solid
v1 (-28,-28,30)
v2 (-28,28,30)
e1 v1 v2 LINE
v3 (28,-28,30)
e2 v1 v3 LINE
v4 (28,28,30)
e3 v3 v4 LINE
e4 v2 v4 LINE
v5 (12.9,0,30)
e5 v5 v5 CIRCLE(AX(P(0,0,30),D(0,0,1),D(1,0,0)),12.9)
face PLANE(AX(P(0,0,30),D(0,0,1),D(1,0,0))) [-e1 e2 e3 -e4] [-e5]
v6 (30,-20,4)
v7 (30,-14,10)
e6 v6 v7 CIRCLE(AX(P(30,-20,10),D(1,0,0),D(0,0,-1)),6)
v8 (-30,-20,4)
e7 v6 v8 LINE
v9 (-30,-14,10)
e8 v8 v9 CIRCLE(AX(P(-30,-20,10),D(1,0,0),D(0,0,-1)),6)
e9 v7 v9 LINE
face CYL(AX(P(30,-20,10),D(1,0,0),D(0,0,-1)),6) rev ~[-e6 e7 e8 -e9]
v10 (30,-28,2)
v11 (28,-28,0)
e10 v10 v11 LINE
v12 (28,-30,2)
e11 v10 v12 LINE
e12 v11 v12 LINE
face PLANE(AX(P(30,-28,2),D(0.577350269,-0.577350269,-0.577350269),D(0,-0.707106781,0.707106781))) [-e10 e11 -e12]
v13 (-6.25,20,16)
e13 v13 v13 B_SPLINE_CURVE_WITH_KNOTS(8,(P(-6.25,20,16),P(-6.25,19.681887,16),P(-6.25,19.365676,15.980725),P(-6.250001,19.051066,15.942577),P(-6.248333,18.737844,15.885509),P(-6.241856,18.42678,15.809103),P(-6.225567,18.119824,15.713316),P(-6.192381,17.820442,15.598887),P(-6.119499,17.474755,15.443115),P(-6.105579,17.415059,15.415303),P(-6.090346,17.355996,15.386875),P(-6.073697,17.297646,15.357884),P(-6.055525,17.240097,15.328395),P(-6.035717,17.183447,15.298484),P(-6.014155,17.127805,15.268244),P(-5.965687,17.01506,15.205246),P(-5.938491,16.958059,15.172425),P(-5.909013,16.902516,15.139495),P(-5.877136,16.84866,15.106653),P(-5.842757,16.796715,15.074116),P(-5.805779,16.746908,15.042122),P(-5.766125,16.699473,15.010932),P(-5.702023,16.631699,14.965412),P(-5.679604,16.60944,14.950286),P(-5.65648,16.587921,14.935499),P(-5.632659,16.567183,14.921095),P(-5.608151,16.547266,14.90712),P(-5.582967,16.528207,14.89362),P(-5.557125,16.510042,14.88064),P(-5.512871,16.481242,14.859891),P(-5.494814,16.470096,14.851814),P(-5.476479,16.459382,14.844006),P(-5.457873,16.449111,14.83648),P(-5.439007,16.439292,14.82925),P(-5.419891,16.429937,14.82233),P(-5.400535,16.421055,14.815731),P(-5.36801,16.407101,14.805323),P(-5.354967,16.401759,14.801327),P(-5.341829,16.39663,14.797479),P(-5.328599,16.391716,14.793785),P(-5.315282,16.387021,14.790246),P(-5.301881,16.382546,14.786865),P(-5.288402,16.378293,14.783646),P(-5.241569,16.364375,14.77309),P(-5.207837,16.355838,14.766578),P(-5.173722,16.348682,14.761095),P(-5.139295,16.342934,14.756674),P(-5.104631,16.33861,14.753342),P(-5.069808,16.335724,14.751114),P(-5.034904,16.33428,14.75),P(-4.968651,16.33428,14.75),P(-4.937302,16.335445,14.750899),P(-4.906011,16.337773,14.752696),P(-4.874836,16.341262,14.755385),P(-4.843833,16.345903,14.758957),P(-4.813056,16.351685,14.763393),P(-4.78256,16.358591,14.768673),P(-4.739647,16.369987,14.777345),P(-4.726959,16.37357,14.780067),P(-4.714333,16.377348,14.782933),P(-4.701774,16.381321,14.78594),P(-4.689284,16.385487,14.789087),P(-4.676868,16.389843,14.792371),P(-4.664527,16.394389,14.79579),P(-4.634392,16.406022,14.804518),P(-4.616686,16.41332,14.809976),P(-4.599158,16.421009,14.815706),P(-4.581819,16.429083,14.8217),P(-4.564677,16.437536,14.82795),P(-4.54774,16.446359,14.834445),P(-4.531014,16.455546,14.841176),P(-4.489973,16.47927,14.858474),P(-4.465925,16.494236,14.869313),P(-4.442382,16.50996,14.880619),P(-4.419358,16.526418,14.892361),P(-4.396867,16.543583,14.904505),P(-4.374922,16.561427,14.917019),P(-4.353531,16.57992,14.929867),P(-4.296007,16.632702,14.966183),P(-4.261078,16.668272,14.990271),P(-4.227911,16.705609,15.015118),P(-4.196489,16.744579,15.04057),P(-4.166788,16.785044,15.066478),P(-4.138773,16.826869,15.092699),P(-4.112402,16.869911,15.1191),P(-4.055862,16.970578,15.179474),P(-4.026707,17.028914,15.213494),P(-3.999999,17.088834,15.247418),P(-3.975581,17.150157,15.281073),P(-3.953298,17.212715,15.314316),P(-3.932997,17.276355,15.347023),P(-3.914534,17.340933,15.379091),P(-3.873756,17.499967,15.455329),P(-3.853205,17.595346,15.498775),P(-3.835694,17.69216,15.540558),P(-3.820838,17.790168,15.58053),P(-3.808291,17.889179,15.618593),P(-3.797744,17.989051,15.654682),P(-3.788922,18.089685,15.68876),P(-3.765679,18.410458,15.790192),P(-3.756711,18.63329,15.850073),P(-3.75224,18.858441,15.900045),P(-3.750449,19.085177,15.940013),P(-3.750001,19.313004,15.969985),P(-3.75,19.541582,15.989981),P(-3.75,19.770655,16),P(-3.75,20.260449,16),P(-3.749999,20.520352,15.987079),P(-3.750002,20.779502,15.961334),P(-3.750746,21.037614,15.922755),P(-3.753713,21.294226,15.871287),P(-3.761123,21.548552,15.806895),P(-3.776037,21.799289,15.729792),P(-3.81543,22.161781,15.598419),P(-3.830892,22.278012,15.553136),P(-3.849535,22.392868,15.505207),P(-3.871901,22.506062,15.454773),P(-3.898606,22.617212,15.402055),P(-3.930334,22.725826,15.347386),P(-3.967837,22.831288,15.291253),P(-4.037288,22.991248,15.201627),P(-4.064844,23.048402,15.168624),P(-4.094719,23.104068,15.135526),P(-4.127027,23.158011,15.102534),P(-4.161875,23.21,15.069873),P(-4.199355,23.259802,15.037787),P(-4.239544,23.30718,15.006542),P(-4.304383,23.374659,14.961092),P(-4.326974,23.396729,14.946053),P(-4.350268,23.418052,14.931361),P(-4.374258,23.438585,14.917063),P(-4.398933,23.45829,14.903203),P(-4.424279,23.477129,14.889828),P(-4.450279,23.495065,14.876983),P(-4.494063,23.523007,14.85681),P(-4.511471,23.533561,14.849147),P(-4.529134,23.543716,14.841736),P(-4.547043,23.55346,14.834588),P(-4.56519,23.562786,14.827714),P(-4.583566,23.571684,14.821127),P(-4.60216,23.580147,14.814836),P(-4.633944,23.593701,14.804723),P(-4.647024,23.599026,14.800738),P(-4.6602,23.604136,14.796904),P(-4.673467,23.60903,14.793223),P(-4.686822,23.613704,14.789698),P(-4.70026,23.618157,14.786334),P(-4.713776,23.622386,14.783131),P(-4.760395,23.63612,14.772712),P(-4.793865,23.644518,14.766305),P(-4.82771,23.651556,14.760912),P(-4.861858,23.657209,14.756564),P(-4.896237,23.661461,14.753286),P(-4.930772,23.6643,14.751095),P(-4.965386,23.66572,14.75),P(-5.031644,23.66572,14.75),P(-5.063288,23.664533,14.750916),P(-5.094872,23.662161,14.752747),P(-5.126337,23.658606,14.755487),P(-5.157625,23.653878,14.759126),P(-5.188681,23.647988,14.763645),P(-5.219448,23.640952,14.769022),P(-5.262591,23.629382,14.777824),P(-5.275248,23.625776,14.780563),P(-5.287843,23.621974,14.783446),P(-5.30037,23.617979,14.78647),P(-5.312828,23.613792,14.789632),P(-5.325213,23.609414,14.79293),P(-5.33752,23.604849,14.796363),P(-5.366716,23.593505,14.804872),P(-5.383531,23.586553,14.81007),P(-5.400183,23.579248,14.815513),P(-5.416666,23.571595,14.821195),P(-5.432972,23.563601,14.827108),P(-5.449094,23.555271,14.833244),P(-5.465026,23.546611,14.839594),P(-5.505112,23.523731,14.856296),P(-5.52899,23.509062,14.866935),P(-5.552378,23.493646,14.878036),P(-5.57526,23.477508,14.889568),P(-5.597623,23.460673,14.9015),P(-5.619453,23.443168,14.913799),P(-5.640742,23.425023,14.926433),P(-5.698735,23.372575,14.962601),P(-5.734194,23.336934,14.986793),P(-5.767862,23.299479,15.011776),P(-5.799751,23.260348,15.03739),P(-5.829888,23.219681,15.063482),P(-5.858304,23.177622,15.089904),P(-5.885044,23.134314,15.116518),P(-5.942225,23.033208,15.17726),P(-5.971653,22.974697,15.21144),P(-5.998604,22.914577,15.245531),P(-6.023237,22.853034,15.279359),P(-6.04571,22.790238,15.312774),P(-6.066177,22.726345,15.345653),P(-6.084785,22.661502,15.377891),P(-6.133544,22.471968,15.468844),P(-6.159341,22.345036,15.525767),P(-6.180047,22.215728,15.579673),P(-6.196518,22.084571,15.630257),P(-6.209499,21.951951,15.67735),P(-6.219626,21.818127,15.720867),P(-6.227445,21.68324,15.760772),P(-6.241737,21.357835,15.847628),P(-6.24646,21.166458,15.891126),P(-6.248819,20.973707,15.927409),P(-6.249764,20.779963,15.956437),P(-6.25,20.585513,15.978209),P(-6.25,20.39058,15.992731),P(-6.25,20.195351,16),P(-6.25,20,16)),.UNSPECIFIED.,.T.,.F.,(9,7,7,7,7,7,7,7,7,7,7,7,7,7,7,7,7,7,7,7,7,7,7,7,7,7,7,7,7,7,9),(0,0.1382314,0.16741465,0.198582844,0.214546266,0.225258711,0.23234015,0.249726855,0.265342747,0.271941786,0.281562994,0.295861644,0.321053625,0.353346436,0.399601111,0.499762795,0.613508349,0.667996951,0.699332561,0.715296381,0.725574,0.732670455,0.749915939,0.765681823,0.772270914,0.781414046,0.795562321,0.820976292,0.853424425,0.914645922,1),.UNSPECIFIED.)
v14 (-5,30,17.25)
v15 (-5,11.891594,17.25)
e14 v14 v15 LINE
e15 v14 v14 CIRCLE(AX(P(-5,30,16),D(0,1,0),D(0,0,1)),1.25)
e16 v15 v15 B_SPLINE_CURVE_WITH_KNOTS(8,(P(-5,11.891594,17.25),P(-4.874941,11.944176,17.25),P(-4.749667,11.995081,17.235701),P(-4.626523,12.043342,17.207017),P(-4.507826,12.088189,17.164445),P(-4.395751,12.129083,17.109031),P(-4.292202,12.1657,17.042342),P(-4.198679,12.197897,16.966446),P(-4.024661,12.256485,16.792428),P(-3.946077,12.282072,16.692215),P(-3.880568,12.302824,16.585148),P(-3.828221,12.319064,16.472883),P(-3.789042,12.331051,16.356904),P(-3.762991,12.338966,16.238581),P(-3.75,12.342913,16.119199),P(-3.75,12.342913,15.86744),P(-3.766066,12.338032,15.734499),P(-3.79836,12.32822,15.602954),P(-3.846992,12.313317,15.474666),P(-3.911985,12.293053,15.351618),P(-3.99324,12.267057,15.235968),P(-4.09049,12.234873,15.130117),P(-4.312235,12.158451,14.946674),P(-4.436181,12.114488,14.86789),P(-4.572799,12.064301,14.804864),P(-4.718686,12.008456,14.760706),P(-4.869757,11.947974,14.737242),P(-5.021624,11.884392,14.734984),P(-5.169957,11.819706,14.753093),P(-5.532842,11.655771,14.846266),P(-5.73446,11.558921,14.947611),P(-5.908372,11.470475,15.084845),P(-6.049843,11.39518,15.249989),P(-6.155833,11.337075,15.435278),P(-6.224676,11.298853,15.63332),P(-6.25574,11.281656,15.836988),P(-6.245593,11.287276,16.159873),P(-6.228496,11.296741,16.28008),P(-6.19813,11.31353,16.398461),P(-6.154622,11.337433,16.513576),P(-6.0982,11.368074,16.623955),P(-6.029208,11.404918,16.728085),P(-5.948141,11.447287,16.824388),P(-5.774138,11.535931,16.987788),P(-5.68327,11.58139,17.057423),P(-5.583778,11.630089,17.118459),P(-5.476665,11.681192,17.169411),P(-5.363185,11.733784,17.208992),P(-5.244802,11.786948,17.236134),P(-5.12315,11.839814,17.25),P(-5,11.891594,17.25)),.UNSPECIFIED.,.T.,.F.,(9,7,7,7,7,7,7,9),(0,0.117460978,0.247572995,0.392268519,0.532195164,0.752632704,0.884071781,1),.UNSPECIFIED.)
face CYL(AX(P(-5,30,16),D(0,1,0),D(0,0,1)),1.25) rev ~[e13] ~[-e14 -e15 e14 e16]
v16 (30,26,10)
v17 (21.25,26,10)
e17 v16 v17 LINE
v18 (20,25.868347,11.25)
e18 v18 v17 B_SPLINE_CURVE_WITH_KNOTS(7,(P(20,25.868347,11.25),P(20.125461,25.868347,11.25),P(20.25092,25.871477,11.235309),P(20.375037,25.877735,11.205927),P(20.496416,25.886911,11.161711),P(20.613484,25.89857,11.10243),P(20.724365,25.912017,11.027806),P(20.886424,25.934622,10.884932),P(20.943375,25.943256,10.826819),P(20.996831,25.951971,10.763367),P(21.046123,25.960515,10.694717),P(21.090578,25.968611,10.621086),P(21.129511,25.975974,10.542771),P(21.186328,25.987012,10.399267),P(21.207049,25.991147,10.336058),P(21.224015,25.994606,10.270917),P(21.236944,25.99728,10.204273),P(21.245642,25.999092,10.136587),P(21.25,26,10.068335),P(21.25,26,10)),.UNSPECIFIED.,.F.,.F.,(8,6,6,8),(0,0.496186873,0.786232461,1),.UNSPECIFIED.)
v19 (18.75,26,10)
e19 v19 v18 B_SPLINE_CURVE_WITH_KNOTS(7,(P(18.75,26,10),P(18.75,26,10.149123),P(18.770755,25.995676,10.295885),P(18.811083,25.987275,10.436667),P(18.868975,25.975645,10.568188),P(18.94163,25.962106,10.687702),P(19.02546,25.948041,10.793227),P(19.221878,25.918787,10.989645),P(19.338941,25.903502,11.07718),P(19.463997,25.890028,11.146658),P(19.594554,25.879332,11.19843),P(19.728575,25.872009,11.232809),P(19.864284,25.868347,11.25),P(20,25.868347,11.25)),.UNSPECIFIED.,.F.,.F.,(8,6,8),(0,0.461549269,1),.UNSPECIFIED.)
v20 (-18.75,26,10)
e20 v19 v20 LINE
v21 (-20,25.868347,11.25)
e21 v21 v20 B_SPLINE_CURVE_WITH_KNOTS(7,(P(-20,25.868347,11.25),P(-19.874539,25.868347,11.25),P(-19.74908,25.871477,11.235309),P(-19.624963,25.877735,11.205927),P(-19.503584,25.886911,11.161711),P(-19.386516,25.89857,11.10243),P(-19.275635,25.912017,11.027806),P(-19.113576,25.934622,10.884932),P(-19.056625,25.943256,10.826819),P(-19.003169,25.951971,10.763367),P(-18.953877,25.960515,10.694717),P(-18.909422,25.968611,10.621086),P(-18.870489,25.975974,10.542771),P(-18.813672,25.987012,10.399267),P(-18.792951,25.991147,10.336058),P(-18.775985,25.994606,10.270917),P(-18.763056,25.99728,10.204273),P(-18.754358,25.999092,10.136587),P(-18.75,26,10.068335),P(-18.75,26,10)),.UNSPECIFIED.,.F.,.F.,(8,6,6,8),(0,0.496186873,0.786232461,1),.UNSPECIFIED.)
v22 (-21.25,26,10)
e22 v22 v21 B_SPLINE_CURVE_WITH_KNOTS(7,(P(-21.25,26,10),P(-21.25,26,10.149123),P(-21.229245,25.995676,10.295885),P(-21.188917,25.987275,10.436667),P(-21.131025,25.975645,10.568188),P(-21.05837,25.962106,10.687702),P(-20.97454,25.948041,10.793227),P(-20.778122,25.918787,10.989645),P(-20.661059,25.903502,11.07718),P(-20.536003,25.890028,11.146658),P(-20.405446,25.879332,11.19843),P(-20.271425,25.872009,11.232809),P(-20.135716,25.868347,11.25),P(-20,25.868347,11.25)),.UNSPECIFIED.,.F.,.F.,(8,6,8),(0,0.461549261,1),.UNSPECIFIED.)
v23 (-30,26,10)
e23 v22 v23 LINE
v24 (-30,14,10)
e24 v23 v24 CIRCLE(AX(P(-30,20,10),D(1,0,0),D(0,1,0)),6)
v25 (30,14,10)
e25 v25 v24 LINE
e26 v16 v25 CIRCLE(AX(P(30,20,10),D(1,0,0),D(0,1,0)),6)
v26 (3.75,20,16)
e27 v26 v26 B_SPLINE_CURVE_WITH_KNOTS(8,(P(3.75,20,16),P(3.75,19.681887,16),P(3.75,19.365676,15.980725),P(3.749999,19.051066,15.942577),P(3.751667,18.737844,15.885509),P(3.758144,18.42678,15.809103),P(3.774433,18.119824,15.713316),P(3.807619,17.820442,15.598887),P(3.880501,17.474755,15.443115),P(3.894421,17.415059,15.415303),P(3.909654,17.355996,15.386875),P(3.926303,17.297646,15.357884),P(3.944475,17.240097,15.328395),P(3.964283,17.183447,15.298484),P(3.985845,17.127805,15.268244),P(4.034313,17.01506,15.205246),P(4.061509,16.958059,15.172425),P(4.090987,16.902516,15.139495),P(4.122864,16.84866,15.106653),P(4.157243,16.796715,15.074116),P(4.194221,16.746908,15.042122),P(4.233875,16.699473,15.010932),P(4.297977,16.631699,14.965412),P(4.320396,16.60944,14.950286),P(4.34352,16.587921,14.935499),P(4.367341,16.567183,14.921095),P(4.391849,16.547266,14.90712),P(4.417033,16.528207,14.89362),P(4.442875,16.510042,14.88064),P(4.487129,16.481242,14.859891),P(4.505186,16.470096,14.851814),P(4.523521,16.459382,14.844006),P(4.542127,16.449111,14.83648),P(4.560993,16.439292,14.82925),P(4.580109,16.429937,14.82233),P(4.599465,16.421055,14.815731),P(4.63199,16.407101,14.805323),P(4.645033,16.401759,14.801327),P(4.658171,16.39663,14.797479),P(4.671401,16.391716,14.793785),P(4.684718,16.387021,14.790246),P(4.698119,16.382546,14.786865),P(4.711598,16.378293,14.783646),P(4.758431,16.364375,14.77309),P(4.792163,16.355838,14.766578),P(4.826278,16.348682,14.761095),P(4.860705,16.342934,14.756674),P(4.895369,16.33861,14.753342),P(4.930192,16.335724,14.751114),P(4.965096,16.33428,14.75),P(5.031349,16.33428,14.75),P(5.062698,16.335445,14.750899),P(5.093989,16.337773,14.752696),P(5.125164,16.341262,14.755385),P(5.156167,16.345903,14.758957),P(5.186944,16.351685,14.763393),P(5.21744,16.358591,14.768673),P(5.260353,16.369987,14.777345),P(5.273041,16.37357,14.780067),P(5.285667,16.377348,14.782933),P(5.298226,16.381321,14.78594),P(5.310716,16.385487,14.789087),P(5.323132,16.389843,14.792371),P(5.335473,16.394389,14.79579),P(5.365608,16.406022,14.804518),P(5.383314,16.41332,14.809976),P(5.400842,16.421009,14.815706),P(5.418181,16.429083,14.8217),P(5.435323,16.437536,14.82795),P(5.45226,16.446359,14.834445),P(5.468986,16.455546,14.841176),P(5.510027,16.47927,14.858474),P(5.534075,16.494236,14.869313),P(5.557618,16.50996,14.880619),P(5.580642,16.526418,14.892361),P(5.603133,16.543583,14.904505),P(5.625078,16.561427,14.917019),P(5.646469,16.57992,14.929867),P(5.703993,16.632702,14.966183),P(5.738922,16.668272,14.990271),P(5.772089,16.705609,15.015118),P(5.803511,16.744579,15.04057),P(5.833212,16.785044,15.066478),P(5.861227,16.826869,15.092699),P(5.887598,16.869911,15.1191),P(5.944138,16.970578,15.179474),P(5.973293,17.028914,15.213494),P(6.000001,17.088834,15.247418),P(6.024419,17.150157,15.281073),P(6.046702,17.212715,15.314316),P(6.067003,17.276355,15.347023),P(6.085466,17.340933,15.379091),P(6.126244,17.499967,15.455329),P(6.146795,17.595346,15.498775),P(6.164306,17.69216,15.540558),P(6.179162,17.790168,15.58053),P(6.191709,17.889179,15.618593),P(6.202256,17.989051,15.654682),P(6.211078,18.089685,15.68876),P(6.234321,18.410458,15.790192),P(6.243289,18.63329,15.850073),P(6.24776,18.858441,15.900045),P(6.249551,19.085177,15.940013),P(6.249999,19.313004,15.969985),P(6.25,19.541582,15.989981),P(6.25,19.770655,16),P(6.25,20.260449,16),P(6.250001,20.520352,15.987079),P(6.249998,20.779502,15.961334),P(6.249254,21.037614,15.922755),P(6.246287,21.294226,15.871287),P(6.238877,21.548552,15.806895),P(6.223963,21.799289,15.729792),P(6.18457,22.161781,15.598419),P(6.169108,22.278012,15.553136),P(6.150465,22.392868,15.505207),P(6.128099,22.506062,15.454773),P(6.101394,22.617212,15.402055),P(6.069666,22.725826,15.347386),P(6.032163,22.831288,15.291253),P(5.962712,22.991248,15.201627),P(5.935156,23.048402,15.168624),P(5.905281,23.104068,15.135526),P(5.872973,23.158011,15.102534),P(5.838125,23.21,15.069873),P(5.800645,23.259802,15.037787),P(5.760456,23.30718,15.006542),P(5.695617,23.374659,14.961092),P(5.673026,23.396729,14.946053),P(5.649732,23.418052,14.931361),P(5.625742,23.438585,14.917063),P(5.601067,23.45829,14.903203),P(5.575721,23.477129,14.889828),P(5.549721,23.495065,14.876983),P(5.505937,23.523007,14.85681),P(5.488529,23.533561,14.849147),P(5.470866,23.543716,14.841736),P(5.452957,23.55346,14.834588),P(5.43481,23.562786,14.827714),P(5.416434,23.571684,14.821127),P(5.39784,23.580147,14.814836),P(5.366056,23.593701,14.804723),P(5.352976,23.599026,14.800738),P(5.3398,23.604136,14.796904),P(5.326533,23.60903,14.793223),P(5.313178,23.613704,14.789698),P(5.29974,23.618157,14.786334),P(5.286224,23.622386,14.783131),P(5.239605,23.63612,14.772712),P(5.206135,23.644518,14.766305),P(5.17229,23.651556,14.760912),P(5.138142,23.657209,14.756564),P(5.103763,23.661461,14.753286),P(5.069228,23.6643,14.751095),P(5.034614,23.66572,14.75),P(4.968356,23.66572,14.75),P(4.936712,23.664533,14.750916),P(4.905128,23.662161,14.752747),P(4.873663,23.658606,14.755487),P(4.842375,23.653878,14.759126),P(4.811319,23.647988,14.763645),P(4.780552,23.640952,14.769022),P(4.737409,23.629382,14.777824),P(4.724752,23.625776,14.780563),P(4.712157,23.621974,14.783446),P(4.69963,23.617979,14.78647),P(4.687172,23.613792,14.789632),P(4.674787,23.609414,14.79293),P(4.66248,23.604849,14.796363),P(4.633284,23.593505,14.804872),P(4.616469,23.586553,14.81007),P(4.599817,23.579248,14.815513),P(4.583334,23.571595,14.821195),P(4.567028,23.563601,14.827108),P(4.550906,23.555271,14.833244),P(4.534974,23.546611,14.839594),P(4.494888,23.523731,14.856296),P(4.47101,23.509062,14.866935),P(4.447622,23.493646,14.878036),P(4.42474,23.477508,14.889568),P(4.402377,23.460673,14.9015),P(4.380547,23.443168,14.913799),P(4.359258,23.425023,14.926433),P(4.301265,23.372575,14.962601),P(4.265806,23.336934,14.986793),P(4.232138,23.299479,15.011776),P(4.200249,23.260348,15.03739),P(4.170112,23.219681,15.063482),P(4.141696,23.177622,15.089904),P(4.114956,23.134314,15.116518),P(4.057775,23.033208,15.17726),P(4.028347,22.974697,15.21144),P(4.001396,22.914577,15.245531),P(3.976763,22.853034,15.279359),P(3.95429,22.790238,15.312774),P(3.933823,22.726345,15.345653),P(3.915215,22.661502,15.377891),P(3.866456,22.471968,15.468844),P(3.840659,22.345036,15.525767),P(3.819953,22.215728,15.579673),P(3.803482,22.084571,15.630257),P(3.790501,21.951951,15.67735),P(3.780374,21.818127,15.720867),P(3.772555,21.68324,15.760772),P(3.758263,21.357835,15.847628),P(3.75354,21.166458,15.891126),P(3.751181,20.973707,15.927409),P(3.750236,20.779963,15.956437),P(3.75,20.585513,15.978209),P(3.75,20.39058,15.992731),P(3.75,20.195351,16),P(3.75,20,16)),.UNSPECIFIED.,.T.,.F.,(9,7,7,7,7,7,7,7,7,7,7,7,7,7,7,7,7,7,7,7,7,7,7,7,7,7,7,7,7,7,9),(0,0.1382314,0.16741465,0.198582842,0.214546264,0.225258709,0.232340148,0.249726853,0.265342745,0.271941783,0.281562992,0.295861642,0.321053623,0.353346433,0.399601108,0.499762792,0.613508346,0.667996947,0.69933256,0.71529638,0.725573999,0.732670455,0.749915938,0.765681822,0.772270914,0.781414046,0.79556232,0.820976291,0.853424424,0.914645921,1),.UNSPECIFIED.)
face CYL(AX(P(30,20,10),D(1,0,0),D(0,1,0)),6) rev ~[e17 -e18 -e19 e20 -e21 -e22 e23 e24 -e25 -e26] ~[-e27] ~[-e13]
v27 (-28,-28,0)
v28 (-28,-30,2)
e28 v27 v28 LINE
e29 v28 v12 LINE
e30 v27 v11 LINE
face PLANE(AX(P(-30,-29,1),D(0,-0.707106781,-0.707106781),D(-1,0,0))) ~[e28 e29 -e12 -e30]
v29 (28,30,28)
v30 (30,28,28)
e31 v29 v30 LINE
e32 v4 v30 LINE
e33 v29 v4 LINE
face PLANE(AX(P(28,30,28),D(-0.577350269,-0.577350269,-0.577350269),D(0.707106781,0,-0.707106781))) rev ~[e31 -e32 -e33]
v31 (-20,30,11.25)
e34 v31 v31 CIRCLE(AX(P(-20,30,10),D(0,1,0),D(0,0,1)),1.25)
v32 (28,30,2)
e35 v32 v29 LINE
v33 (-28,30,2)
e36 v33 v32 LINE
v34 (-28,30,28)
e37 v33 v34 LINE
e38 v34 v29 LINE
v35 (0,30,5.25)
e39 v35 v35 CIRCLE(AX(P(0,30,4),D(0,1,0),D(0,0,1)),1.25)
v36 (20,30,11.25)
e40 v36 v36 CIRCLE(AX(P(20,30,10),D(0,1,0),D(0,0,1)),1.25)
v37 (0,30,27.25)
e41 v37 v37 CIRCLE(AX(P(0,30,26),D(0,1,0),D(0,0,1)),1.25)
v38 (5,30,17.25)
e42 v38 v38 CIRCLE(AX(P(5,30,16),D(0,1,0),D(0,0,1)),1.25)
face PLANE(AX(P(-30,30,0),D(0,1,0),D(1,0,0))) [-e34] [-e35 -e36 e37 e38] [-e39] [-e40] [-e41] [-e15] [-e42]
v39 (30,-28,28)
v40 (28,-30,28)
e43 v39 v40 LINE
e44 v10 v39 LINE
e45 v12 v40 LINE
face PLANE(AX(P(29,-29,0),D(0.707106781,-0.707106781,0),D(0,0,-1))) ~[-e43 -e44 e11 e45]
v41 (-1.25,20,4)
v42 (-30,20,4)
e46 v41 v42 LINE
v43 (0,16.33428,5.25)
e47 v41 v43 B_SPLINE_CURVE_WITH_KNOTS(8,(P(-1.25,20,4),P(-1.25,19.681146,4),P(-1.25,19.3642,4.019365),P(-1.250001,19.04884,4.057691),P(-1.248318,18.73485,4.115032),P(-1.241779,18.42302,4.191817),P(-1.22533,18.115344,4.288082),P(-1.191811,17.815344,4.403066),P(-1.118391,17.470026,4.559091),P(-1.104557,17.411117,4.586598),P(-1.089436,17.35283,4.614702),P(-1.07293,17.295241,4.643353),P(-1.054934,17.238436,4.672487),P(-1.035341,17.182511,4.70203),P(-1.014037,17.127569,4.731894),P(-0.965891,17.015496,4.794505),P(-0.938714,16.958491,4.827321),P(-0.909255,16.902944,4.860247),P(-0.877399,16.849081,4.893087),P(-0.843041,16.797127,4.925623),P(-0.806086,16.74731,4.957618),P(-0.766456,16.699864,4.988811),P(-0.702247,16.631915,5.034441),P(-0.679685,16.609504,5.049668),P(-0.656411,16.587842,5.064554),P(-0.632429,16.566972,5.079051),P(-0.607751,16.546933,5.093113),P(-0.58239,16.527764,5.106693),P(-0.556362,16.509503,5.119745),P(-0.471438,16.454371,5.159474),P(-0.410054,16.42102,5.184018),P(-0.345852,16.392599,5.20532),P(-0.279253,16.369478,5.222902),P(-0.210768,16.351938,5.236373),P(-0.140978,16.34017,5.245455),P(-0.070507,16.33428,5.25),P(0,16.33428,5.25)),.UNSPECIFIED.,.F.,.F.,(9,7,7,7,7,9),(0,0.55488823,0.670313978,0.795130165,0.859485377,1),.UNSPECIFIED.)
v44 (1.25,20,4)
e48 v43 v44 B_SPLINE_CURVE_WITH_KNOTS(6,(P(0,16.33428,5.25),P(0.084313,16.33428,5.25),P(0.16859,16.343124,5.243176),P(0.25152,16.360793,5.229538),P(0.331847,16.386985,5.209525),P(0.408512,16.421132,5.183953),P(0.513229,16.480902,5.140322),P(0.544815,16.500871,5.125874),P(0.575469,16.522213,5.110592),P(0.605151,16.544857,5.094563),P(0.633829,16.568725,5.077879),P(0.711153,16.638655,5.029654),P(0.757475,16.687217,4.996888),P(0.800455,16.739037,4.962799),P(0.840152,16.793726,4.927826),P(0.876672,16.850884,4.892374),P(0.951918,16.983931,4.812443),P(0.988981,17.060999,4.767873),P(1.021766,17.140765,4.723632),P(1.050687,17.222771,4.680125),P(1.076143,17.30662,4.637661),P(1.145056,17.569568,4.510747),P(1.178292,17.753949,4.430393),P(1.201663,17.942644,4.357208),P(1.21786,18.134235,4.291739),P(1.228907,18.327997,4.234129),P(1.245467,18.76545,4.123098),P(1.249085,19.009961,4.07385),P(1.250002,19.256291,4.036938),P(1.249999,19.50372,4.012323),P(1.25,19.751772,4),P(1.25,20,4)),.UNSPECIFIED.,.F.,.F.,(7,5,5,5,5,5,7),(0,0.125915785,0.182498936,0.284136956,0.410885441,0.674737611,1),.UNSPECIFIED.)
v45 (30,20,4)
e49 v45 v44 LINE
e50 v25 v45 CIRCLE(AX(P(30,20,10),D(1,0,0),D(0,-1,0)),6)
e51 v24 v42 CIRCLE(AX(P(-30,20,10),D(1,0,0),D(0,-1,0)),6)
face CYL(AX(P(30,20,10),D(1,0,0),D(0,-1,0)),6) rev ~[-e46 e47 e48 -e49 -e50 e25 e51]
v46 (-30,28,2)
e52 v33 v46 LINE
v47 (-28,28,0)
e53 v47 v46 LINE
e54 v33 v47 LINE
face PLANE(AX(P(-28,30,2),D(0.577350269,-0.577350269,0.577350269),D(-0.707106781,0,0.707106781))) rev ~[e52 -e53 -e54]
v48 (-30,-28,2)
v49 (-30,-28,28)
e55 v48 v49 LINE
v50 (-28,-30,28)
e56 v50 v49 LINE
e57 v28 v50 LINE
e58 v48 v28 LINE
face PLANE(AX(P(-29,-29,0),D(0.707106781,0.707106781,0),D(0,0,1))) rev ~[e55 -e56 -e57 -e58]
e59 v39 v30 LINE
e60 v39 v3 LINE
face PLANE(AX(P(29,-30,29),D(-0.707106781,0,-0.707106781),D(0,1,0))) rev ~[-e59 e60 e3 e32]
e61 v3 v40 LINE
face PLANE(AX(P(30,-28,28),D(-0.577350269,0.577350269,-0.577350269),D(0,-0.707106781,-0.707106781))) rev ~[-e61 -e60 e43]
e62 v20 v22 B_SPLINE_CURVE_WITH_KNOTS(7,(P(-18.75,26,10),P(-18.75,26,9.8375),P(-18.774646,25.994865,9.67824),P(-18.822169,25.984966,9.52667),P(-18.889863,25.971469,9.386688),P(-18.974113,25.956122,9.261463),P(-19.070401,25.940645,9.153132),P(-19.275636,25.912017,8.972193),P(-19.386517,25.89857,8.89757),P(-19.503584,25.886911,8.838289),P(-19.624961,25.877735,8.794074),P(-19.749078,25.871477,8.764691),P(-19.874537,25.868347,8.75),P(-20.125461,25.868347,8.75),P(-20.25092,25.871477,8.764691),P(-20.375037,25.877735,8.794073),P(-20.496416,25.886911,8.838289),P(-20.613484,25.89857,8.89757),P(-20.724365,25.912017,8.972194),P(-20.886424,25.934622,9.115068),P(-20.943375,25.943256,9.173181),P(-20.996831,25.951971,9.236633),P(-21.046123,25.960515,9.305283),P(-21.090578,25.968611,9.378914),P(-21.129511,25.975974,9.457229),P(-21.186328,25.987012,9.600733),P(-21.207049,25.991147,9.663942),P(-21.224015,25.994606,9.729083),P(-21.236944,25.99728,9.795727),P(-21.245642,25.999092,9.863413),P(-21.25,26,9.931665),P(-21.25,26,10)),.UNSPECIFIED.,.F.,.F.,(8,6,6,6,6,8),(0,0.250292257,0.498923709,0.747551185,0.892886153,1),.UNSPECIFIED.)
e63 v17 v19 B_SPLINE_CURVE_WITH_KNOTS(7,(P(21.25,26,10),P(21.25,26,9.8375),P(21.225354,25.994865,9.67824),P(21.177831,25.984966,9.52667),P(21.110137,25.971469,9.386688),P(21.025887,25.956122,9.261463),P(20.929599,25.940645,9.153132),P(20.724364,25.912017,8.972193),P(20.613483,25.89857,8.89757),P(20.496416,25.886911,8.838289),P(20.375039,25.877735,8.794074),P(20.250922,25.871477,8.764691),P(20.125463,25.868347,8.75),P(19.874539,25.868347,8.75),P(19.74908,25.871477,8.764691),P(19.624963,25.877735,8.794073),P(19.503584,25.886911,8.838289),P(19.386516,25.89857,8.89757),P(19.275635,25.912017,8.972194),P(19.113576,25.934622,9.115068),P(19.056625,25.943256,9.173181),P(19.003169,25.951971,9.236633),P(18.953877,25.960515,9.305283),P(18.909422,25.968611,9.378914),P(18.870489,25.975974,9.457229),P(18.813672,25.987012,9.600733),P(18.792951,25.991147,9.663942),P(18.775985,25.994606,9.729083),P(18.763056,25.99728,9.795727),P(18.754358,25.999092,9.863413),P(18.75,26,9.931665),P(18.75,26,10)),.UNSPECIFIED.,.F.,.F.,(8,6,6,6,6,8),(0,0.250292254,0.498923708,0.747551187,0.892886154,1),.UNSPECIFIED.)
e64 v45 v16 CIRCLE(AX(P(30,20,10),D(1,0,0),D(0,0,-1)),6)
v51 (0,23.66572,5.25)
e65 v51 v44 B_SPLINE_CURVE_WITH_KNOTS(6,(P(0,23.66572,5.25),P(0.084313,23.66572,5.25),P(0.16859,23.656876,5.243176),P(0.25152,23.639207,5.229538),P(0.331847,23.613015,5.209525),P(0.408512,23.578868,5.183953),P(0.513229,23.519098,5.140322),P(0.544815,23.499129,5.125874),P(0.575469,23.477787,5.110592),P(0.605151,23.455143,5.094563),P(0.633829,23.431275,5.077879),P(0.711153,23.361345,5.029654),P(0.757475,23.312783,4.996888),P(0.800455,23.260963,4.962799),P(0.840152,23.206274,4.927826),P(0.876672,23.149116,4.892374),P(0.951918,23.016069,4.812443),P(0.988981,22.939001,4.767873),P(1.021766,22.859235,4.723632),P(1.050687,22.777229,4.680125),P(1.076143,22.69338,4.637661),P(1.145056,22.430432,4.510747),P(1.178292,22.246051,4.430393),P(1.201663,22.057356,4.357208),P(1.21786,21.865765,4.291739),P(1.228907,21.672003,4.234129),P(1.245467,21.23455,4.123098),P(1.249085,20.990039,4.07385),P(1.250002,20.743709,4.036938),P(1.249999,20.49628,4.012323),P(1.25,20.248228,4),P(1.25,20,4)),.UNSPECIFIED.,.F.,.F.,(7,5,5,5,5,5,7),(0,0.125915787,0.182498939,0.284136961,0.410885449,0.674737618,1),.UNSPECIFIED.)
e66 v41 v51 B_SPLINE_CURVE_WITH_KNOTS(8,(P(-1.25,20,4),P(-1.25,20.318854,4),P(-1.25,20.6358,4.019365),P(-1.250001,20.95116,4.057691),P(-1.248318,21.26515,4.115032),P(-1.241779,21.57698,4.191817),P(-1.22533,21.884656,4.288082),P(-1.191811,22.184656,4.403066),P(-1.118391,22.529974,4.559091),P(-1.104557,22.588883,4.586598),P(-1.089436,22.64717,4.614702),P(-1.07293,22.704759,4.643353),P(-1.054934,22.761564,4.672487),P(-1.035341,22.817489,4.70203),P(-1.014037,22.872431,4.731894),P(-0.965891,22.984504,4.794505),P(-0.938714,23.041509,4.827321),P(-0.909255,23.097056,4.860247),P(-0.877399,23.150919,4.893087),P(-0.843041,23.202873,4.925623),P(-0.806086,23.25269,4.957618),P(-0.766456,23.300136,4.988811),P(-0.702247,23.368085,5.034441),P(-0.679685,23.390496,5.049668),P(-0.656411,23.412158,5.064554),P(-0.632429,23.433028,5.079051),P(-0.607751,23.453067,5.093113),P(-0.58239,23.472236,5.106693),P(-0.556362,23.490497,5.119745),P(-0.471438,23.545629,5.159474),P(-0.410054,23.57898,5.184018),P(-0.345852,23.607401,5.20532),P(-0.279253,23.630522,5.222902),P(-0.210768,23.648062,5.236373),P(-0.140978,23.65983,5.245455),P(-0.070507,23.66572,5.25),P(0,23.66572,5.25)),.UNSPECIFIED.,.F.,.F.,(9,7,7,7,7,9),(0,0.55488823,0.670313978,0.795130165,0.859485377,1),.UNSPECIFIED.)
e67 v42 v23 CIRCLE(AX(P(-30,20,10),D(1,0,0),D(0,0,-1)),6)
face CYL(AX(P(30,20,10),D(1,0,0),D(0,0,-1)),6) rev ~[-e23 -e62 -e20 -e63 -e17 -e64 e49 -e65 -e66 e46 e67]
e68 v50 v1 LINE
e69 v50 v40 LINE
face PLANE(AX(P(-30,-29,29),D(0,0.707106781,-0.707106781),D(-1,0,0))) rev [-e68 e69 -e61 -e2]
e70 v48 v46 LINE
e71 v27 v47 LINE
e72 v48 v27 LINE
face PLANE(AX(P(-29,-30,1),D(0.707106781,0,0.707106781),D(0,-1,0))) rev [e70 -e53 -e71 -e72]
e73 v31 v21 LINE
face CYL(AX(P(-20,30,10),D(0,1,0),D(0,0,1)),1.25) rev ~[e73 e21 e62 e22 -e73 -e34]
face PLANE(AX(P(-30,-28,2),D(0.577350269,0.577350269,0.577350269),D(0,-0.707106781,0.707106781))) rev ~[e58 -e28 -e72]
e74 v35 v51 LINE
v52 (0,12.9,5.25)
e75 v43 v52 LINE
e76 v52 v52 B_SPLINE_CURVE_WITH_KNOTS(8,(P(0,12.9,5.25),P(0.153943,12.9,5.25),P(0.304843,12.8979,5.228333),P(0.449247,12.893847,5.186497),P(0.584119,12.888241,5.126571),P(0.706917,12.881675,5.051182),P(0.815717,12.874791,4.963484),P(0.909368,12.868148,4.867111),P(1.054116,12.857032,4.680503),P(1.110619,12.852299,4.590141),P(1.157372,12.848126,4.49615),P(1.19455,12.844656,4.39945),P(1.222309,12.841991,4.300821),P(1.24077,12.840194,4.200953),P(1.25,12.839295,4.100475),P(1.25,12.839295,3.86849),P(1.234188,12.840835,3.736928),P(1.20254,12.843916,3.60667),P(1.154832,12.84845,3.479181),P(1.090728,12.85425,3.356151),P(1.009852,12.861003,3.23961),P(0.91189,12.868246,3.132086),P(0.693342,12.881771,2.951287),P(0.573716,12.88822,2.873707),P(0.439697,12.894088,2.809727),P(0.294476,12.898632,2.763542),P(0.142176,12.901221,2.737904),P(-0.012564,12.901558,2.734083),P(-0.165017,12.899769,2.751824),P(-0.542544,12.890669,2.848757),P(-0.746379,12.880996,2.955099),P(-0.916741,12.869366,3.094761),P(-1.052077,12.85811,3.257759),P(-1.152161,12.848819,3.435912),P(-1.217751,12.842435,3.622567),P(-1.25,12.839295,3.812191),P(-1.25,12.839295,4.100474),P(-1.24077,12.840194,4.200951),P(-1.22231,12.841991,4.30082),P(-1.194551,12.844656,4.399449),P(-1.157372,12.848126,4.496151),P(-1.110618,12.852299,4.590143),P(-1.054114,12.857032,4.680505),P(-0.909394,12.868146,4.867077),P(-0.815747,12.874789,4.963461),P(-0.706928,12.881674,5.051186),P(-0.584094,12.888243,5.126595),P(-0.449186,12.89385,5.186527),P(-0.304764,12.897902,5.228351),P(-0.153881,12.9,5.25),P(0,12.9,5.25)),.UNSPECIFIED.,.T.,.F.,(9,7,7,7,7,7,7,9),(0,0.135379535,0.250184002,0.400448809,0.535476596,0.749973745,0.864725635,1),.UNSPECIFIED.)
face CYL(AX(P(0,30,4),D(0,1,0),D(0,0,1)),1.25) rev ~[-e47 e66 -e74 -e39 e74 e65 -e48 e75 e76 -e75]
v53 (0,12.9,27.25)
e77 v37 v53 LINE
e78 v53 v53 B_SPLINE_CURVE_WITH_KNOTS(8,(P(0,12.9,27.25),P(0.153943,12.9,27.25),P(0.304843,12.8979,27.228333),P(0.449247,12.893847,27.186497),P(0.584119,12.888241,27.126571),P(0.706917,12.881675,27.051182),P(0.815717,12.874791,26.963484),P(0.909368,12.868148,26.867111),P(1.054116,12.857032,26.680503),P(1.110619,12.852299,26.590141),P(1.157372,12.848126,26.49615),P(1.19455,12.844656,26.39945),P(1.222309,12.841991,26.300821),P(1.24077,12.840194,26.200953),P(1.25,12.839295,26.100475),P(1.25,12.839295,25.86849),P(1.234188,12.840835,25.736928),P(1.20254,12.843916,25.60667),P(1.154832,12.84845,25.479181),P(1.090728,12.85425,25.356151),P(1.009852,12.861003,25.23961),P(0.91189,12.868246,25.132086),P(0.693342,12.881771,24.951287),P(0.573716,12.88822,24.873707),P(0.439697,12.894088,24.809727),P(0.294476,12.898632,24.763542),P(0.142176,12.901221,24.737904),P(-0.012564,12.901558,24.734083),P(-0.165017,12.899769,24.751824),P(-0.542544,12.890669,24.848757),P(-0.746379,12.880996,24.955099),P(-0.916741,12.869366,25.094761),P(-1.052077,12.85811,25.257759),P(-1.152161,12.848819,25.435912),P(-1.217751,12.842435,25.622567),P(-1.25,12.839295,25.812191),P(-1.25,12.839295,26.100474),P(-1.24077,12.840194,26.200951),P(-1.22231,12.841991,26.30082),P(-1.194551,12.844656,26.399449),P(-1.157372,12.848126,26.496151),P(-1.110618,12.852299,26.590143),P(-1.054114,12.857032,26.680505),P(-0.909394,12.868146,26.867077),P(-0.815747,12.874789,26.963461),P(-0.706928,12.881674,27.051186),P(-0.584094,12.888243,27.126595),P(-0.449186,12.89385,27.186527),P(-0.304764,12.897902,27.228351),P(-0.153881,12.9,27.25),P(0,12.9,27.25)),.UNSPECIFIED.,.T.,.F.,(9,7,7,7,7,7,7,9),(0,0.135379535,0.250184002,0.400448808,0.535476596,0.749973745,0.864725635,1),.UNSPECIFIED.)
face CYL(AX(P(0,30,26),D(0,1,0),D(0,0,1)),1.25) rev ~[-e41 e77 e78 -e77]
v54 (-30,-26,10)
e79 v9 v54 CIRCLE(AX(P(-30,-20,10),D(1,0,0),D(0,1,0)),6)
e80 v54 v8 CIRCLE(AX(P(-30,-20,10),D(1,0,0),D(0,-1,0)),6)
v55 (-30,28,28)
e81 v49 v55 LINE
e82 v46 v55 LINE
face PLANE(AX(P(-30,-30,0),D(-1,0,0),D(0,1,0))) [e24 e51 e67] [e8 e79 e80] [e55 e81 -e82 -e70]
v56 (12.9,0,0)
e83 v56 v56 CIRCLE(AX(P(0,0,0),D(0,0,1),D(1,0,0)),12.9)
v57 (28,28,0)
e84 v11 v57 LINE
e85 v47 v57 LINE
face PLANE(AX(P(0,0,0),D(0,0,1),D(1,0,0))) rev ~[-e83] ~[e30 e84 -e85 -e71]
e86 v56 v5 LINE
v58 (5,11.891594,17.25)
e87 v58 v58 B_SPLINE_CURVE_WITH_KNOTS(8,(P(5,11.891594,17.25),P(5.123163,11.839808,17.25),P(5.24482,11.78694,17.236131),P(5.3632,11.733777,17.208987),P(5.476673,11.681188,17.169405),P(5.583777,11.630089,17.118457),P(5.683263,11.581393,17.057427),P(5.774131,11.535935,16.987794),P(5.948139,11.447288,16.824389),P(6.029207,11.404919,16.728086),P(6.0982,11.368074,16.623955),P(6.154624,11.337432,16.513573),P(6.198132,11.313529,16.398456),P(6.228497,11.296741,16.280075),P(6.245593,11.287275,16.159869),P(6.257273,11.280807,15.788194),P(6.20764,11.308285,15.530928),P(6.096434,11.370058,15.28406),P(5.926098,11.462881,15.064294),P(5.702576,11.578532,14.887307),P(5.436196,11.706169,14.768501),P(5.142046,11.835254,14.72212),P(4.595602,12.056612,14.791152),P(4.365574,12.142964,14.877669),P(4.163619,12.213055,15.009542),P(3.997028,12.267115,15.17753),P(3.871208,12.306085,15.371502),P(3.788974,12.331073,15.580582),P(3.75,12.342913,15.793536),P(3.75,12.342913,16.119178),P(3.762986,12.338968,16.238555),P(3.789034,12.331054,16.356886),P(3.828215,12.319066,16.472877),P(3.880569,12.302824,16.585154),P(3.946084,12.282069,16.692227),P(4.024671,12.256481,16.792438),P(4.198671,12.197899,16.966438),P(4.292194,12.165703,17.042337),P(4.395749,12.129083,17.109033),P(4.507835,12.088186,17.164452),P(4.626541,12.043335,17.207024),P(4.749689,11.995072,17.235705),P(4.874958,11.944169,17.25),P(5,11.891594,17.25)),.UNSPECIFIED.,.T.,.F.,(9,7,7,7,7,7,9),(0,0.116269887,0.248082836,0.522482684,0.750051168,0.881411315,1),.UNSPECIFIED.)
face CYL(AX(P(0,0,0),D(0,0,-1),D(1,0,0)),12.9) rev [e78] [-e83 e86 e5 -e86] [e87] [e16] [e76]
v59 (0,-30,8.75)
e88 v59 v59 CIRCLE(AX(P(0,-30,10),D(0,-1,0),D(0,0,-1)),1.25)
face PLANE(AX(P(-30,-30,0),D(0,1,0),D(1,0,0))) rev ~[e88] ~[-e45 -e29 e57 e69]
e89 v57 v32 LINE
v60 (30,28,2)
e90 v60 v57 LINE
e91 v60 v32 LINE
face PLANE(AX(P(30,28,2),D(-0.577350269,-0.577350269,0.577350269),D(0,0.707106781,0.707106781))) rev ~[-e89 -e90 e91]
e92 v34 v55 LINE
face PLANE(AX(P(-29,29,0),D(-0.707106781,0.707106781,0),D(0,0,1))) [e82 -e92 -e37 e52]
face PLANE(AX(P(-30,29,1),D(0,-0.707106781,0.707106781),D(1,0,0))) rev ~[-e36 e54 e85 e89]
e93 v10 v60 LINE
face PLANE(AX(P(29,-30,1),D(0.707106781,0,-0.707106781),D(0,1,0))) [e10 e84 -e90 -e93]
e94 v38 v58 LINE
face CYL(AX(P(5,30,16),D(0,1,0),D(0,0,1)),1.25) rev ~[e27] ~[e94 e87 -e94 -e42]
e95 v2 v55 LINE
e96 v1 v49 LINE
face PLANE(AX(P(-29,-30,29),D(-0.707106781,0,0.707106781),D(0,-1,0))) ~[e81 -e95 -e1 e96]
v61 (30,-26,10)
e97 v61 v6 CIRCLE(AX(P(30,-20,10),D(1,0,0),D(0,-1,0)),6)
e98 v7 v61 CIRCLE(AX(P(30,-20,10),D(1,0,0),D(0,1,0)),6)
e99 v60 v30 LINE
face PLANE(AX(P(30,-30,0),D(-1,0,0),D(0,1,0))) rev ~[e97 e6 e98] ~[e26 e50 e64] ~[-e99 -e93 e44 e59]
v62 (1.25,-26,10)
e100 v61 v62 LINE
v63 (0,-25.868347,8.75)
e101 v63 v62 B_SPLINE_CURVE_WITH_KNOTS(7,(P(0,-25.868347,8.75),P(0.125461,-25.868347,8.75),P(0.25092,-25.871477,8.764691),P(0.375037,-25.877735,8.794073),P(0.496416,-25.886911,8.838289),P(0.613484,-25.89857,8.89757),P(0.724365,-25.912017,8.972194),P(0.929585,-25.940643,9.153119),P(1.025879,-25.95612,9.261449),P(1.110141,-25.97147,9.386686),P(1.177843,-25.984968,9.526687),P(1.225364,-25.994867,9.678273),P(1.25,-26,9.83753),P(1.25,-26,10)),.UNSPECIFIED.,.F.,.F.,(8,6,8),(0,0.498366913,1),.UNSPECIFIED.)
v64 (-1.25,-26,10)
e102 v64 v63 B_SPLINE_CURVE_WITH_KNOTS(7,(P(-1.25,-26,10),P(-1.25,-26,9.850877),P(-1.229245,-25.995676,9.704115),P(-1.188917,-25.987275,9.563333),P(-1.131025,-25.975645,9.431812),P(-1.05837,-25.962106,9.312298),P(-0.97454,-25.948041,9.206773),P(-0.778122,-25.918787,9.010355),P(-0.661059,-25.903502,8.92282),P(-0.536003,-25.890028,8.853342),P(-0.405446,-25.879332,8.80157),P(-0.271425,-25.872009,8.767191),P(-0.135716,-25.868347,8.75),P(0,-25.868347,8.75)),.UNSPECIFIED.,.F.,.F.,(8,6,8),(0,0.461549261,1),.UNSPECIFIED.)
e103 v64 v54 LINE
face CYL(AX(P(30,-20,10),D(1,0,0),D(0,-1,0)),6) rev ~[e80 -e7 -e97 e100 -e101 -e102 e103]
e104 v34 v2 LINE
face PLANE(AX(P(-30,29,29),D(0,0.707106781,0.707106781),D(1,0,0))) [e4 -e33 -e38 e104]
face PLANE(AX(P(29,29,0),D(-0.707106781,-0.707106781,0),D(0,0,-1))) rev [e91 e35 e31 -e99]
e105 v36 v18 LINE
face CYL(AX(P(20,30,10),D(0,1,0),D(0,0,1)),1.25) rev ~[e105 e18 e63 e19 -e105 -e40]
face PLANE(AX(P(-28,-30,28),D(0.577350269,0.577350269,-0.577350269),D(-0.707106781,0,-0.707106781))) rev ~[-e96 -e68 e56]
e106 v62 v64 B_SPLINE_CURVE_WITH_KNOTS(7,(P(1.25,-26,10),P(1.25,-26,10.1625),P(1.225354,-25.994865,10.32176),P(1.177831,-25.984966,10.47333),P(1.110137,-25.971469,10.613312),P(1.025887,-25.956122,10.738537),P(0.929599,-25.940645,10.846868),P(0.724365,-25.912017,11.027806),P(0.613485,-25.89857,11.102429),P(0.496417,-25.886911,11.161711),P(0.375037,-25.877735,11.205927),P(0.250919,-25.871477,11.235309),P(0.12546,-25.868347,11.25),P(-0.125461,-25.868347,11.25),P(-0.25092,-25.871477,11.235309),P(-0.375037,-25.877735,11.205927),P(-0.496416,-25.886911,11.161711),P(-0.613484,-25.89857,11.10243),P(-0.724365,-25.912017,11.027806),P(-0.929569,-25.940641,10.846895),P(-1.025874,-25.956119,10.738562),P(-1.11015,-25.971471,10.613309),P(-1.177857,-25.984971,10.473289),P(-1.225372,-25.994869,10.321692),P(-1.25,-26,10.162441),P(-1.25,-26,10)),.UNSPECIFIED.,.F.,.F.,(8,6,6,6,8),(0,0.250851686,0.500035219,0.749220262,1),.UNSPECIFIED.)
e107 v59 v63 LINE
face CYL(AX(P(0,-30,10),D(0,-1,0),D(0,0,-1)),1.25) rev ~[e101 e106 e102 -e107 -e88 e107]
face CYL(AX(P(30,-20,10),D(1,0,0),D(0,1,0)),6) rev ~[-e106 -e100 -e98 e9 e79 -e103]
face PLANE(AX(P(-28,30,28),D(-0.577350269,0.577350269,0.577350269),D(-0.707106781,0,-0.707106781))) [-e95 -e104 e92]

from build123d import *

# Parameters (mm, degrees)
SKETCH1_W           = 60
SKETCH1_H           = 60
SKETCH1_R           = 12.9
BOSS_EXTRUDE1_DEPTH = 30
CUT_EXTRUDE1_DEPTH  = 70
SKETCH3_R           = 1.25
CUT_EXTRUDE2_DEPTH  = 10
SKETCH4_R           = 1.25
CUT_EXTRUDE3_DEPTH  = 30
SKETCH5_R           = 1.25
CUT_EXTRUDE4_DEPTH  = 30
SKETCH6_R           = 1.25
CUT_EXTRUDE5_DEPTH  = 10
CHAMFER2_SIZE       = 2


with BuildPart() as part:
    # Sketch1 → Boss-Extrude1 (new body)
    with BuildSketch(Plane.XY):
        Rectangle(SKETCH1_W, SKETCH1_H)
        Circle(SKETCH1_R, mode=Mode.SUBTRACT)
    extrude(amount=BOSS_EXTRUDE1_DEPTH)

    # Sketch2 → Cut-Extrude1 (cut)
    with BuildSketch(Plane(origin=(30, 0, 0), x_dir=(0, 0, -1), z_dir=(1, 0, 0))):
        with BuildLine():
            ThreePointArc((-4, 20), (-5.757359313, 24.242640687), (-10, 26))
            Line((-10, 26), (-10, 14))
            ThreePointArc((-10, 14), (-5.757359313, 15.757359313), (-4, 20))
        make_face()
        with BuildLine():
            Line((-10, 14), (-10, 26))
            ThreePointArc((-10, 26), (-16, 20), (-10, 14))
        make_face()
        with BuildLine():
            ThreePointArc((-4, -20), (-5.757359313, -15.757359313), (-10, -14))
            Line((-10, -14), (-10, -26))
            ThreePointArc((-10, -26), (-5.757359313, -24.242640687), (-4, -20))
        make_face()
        with BuildLine():
            Line((-10, -26), (-10, -14))
            ThreePointArc((-10, -14), (-16, -20), (-10, -26))
        make_face()
    extrude(amount=-CUT_EXTRUDE1_DEPTH, mode=Mode.SUBTRACT)

    # Sketch3 → Cut-Extrude2 (cut)
    with BuildSketch(Plane(origin=(0, 30, 0), x_dir=(1, 0, 0), z_dir=(0, 1, 0))):
        with Locations(Location((-20, -10, 0), (0, 0, 270))):
            Circle(SKETCH3_R)
        with Locations(Location((20, -10, 0), (0, 0, 270))):
            Circle(SKETCH3_R)
    extrude(amount=-CUT_EXTRUDE2_DEPTH, mode=Mode.SUBTRACT)

    # Sketch4 → Cut-Extrude3 (cut)
    with BuildSketch(Plane(origin=(0, 30, 0), x_dir=(1, 0, 0), z_dir=(0, 1, 0))):
        with Locations(Location((-5, -16, 0), (0, 0, 270))):
            Circle(SKETCH4_R)
        with Locations(Location((5, -16, 0), (0, 0, 270))):
            Circle(SKETCH4_R)
    extrude(amount=-CUT_EXTRUDE3_DEPTH, mode=Mode.SUBTRACT)

    # Sketch5 → Cut-Extrude4 (cut)
    with BuildSketch(Plane(origin=(0, 30, 0), x_dir=(1, 0, 0), z_dir=(0, 1, 0))):
        with Locations(Location((0, -4, 0), (0, 0, 270))):
            Circle(SKETCH5_R)
        with Locations(Location((0, -26, 0), (0, 0, 270))):
            Circle(SKETCH5_R)
    extrude(amount=-CUT_EXTRUDE4_DEPTH, mode=Mode.SUBTRACT)

    # Sketch6 → Cut-Extrude5 (cut)
    with BuildSketch(Plane(origin=(0, -30, 0), x_dir=(-1, 0, 0), z_dir=(0, -1, 0))):
        with Locations(Location((0, -10, 0), (0, 0, 90))):
            Circle(SKETCH6_R)
    extrude(amount=-CUT_EXTRUDE5_DEPTH, mode=Mode.SUBTRACT)

    # Chamfer2
    chamfer2_edges = [part.edges().sort_by_distance(p)[0] for p in [
        (-30, 0, 30),
        (0, -30, 30),
        (30, 0, 30),
        (0, -30, 0),
        (-30, 0, 0),
        (0, 30, 0),
        (30, 0, 0),
        (0, 30, 30),
        (30, -30, 15),
        (-30, -30, 15),
        (-30, 30, 15),
        (30, 30, 15),
    ]]
    chamfer(chamfer2_edges, length=CHAMFER2_SIZE)


solid = part.part
